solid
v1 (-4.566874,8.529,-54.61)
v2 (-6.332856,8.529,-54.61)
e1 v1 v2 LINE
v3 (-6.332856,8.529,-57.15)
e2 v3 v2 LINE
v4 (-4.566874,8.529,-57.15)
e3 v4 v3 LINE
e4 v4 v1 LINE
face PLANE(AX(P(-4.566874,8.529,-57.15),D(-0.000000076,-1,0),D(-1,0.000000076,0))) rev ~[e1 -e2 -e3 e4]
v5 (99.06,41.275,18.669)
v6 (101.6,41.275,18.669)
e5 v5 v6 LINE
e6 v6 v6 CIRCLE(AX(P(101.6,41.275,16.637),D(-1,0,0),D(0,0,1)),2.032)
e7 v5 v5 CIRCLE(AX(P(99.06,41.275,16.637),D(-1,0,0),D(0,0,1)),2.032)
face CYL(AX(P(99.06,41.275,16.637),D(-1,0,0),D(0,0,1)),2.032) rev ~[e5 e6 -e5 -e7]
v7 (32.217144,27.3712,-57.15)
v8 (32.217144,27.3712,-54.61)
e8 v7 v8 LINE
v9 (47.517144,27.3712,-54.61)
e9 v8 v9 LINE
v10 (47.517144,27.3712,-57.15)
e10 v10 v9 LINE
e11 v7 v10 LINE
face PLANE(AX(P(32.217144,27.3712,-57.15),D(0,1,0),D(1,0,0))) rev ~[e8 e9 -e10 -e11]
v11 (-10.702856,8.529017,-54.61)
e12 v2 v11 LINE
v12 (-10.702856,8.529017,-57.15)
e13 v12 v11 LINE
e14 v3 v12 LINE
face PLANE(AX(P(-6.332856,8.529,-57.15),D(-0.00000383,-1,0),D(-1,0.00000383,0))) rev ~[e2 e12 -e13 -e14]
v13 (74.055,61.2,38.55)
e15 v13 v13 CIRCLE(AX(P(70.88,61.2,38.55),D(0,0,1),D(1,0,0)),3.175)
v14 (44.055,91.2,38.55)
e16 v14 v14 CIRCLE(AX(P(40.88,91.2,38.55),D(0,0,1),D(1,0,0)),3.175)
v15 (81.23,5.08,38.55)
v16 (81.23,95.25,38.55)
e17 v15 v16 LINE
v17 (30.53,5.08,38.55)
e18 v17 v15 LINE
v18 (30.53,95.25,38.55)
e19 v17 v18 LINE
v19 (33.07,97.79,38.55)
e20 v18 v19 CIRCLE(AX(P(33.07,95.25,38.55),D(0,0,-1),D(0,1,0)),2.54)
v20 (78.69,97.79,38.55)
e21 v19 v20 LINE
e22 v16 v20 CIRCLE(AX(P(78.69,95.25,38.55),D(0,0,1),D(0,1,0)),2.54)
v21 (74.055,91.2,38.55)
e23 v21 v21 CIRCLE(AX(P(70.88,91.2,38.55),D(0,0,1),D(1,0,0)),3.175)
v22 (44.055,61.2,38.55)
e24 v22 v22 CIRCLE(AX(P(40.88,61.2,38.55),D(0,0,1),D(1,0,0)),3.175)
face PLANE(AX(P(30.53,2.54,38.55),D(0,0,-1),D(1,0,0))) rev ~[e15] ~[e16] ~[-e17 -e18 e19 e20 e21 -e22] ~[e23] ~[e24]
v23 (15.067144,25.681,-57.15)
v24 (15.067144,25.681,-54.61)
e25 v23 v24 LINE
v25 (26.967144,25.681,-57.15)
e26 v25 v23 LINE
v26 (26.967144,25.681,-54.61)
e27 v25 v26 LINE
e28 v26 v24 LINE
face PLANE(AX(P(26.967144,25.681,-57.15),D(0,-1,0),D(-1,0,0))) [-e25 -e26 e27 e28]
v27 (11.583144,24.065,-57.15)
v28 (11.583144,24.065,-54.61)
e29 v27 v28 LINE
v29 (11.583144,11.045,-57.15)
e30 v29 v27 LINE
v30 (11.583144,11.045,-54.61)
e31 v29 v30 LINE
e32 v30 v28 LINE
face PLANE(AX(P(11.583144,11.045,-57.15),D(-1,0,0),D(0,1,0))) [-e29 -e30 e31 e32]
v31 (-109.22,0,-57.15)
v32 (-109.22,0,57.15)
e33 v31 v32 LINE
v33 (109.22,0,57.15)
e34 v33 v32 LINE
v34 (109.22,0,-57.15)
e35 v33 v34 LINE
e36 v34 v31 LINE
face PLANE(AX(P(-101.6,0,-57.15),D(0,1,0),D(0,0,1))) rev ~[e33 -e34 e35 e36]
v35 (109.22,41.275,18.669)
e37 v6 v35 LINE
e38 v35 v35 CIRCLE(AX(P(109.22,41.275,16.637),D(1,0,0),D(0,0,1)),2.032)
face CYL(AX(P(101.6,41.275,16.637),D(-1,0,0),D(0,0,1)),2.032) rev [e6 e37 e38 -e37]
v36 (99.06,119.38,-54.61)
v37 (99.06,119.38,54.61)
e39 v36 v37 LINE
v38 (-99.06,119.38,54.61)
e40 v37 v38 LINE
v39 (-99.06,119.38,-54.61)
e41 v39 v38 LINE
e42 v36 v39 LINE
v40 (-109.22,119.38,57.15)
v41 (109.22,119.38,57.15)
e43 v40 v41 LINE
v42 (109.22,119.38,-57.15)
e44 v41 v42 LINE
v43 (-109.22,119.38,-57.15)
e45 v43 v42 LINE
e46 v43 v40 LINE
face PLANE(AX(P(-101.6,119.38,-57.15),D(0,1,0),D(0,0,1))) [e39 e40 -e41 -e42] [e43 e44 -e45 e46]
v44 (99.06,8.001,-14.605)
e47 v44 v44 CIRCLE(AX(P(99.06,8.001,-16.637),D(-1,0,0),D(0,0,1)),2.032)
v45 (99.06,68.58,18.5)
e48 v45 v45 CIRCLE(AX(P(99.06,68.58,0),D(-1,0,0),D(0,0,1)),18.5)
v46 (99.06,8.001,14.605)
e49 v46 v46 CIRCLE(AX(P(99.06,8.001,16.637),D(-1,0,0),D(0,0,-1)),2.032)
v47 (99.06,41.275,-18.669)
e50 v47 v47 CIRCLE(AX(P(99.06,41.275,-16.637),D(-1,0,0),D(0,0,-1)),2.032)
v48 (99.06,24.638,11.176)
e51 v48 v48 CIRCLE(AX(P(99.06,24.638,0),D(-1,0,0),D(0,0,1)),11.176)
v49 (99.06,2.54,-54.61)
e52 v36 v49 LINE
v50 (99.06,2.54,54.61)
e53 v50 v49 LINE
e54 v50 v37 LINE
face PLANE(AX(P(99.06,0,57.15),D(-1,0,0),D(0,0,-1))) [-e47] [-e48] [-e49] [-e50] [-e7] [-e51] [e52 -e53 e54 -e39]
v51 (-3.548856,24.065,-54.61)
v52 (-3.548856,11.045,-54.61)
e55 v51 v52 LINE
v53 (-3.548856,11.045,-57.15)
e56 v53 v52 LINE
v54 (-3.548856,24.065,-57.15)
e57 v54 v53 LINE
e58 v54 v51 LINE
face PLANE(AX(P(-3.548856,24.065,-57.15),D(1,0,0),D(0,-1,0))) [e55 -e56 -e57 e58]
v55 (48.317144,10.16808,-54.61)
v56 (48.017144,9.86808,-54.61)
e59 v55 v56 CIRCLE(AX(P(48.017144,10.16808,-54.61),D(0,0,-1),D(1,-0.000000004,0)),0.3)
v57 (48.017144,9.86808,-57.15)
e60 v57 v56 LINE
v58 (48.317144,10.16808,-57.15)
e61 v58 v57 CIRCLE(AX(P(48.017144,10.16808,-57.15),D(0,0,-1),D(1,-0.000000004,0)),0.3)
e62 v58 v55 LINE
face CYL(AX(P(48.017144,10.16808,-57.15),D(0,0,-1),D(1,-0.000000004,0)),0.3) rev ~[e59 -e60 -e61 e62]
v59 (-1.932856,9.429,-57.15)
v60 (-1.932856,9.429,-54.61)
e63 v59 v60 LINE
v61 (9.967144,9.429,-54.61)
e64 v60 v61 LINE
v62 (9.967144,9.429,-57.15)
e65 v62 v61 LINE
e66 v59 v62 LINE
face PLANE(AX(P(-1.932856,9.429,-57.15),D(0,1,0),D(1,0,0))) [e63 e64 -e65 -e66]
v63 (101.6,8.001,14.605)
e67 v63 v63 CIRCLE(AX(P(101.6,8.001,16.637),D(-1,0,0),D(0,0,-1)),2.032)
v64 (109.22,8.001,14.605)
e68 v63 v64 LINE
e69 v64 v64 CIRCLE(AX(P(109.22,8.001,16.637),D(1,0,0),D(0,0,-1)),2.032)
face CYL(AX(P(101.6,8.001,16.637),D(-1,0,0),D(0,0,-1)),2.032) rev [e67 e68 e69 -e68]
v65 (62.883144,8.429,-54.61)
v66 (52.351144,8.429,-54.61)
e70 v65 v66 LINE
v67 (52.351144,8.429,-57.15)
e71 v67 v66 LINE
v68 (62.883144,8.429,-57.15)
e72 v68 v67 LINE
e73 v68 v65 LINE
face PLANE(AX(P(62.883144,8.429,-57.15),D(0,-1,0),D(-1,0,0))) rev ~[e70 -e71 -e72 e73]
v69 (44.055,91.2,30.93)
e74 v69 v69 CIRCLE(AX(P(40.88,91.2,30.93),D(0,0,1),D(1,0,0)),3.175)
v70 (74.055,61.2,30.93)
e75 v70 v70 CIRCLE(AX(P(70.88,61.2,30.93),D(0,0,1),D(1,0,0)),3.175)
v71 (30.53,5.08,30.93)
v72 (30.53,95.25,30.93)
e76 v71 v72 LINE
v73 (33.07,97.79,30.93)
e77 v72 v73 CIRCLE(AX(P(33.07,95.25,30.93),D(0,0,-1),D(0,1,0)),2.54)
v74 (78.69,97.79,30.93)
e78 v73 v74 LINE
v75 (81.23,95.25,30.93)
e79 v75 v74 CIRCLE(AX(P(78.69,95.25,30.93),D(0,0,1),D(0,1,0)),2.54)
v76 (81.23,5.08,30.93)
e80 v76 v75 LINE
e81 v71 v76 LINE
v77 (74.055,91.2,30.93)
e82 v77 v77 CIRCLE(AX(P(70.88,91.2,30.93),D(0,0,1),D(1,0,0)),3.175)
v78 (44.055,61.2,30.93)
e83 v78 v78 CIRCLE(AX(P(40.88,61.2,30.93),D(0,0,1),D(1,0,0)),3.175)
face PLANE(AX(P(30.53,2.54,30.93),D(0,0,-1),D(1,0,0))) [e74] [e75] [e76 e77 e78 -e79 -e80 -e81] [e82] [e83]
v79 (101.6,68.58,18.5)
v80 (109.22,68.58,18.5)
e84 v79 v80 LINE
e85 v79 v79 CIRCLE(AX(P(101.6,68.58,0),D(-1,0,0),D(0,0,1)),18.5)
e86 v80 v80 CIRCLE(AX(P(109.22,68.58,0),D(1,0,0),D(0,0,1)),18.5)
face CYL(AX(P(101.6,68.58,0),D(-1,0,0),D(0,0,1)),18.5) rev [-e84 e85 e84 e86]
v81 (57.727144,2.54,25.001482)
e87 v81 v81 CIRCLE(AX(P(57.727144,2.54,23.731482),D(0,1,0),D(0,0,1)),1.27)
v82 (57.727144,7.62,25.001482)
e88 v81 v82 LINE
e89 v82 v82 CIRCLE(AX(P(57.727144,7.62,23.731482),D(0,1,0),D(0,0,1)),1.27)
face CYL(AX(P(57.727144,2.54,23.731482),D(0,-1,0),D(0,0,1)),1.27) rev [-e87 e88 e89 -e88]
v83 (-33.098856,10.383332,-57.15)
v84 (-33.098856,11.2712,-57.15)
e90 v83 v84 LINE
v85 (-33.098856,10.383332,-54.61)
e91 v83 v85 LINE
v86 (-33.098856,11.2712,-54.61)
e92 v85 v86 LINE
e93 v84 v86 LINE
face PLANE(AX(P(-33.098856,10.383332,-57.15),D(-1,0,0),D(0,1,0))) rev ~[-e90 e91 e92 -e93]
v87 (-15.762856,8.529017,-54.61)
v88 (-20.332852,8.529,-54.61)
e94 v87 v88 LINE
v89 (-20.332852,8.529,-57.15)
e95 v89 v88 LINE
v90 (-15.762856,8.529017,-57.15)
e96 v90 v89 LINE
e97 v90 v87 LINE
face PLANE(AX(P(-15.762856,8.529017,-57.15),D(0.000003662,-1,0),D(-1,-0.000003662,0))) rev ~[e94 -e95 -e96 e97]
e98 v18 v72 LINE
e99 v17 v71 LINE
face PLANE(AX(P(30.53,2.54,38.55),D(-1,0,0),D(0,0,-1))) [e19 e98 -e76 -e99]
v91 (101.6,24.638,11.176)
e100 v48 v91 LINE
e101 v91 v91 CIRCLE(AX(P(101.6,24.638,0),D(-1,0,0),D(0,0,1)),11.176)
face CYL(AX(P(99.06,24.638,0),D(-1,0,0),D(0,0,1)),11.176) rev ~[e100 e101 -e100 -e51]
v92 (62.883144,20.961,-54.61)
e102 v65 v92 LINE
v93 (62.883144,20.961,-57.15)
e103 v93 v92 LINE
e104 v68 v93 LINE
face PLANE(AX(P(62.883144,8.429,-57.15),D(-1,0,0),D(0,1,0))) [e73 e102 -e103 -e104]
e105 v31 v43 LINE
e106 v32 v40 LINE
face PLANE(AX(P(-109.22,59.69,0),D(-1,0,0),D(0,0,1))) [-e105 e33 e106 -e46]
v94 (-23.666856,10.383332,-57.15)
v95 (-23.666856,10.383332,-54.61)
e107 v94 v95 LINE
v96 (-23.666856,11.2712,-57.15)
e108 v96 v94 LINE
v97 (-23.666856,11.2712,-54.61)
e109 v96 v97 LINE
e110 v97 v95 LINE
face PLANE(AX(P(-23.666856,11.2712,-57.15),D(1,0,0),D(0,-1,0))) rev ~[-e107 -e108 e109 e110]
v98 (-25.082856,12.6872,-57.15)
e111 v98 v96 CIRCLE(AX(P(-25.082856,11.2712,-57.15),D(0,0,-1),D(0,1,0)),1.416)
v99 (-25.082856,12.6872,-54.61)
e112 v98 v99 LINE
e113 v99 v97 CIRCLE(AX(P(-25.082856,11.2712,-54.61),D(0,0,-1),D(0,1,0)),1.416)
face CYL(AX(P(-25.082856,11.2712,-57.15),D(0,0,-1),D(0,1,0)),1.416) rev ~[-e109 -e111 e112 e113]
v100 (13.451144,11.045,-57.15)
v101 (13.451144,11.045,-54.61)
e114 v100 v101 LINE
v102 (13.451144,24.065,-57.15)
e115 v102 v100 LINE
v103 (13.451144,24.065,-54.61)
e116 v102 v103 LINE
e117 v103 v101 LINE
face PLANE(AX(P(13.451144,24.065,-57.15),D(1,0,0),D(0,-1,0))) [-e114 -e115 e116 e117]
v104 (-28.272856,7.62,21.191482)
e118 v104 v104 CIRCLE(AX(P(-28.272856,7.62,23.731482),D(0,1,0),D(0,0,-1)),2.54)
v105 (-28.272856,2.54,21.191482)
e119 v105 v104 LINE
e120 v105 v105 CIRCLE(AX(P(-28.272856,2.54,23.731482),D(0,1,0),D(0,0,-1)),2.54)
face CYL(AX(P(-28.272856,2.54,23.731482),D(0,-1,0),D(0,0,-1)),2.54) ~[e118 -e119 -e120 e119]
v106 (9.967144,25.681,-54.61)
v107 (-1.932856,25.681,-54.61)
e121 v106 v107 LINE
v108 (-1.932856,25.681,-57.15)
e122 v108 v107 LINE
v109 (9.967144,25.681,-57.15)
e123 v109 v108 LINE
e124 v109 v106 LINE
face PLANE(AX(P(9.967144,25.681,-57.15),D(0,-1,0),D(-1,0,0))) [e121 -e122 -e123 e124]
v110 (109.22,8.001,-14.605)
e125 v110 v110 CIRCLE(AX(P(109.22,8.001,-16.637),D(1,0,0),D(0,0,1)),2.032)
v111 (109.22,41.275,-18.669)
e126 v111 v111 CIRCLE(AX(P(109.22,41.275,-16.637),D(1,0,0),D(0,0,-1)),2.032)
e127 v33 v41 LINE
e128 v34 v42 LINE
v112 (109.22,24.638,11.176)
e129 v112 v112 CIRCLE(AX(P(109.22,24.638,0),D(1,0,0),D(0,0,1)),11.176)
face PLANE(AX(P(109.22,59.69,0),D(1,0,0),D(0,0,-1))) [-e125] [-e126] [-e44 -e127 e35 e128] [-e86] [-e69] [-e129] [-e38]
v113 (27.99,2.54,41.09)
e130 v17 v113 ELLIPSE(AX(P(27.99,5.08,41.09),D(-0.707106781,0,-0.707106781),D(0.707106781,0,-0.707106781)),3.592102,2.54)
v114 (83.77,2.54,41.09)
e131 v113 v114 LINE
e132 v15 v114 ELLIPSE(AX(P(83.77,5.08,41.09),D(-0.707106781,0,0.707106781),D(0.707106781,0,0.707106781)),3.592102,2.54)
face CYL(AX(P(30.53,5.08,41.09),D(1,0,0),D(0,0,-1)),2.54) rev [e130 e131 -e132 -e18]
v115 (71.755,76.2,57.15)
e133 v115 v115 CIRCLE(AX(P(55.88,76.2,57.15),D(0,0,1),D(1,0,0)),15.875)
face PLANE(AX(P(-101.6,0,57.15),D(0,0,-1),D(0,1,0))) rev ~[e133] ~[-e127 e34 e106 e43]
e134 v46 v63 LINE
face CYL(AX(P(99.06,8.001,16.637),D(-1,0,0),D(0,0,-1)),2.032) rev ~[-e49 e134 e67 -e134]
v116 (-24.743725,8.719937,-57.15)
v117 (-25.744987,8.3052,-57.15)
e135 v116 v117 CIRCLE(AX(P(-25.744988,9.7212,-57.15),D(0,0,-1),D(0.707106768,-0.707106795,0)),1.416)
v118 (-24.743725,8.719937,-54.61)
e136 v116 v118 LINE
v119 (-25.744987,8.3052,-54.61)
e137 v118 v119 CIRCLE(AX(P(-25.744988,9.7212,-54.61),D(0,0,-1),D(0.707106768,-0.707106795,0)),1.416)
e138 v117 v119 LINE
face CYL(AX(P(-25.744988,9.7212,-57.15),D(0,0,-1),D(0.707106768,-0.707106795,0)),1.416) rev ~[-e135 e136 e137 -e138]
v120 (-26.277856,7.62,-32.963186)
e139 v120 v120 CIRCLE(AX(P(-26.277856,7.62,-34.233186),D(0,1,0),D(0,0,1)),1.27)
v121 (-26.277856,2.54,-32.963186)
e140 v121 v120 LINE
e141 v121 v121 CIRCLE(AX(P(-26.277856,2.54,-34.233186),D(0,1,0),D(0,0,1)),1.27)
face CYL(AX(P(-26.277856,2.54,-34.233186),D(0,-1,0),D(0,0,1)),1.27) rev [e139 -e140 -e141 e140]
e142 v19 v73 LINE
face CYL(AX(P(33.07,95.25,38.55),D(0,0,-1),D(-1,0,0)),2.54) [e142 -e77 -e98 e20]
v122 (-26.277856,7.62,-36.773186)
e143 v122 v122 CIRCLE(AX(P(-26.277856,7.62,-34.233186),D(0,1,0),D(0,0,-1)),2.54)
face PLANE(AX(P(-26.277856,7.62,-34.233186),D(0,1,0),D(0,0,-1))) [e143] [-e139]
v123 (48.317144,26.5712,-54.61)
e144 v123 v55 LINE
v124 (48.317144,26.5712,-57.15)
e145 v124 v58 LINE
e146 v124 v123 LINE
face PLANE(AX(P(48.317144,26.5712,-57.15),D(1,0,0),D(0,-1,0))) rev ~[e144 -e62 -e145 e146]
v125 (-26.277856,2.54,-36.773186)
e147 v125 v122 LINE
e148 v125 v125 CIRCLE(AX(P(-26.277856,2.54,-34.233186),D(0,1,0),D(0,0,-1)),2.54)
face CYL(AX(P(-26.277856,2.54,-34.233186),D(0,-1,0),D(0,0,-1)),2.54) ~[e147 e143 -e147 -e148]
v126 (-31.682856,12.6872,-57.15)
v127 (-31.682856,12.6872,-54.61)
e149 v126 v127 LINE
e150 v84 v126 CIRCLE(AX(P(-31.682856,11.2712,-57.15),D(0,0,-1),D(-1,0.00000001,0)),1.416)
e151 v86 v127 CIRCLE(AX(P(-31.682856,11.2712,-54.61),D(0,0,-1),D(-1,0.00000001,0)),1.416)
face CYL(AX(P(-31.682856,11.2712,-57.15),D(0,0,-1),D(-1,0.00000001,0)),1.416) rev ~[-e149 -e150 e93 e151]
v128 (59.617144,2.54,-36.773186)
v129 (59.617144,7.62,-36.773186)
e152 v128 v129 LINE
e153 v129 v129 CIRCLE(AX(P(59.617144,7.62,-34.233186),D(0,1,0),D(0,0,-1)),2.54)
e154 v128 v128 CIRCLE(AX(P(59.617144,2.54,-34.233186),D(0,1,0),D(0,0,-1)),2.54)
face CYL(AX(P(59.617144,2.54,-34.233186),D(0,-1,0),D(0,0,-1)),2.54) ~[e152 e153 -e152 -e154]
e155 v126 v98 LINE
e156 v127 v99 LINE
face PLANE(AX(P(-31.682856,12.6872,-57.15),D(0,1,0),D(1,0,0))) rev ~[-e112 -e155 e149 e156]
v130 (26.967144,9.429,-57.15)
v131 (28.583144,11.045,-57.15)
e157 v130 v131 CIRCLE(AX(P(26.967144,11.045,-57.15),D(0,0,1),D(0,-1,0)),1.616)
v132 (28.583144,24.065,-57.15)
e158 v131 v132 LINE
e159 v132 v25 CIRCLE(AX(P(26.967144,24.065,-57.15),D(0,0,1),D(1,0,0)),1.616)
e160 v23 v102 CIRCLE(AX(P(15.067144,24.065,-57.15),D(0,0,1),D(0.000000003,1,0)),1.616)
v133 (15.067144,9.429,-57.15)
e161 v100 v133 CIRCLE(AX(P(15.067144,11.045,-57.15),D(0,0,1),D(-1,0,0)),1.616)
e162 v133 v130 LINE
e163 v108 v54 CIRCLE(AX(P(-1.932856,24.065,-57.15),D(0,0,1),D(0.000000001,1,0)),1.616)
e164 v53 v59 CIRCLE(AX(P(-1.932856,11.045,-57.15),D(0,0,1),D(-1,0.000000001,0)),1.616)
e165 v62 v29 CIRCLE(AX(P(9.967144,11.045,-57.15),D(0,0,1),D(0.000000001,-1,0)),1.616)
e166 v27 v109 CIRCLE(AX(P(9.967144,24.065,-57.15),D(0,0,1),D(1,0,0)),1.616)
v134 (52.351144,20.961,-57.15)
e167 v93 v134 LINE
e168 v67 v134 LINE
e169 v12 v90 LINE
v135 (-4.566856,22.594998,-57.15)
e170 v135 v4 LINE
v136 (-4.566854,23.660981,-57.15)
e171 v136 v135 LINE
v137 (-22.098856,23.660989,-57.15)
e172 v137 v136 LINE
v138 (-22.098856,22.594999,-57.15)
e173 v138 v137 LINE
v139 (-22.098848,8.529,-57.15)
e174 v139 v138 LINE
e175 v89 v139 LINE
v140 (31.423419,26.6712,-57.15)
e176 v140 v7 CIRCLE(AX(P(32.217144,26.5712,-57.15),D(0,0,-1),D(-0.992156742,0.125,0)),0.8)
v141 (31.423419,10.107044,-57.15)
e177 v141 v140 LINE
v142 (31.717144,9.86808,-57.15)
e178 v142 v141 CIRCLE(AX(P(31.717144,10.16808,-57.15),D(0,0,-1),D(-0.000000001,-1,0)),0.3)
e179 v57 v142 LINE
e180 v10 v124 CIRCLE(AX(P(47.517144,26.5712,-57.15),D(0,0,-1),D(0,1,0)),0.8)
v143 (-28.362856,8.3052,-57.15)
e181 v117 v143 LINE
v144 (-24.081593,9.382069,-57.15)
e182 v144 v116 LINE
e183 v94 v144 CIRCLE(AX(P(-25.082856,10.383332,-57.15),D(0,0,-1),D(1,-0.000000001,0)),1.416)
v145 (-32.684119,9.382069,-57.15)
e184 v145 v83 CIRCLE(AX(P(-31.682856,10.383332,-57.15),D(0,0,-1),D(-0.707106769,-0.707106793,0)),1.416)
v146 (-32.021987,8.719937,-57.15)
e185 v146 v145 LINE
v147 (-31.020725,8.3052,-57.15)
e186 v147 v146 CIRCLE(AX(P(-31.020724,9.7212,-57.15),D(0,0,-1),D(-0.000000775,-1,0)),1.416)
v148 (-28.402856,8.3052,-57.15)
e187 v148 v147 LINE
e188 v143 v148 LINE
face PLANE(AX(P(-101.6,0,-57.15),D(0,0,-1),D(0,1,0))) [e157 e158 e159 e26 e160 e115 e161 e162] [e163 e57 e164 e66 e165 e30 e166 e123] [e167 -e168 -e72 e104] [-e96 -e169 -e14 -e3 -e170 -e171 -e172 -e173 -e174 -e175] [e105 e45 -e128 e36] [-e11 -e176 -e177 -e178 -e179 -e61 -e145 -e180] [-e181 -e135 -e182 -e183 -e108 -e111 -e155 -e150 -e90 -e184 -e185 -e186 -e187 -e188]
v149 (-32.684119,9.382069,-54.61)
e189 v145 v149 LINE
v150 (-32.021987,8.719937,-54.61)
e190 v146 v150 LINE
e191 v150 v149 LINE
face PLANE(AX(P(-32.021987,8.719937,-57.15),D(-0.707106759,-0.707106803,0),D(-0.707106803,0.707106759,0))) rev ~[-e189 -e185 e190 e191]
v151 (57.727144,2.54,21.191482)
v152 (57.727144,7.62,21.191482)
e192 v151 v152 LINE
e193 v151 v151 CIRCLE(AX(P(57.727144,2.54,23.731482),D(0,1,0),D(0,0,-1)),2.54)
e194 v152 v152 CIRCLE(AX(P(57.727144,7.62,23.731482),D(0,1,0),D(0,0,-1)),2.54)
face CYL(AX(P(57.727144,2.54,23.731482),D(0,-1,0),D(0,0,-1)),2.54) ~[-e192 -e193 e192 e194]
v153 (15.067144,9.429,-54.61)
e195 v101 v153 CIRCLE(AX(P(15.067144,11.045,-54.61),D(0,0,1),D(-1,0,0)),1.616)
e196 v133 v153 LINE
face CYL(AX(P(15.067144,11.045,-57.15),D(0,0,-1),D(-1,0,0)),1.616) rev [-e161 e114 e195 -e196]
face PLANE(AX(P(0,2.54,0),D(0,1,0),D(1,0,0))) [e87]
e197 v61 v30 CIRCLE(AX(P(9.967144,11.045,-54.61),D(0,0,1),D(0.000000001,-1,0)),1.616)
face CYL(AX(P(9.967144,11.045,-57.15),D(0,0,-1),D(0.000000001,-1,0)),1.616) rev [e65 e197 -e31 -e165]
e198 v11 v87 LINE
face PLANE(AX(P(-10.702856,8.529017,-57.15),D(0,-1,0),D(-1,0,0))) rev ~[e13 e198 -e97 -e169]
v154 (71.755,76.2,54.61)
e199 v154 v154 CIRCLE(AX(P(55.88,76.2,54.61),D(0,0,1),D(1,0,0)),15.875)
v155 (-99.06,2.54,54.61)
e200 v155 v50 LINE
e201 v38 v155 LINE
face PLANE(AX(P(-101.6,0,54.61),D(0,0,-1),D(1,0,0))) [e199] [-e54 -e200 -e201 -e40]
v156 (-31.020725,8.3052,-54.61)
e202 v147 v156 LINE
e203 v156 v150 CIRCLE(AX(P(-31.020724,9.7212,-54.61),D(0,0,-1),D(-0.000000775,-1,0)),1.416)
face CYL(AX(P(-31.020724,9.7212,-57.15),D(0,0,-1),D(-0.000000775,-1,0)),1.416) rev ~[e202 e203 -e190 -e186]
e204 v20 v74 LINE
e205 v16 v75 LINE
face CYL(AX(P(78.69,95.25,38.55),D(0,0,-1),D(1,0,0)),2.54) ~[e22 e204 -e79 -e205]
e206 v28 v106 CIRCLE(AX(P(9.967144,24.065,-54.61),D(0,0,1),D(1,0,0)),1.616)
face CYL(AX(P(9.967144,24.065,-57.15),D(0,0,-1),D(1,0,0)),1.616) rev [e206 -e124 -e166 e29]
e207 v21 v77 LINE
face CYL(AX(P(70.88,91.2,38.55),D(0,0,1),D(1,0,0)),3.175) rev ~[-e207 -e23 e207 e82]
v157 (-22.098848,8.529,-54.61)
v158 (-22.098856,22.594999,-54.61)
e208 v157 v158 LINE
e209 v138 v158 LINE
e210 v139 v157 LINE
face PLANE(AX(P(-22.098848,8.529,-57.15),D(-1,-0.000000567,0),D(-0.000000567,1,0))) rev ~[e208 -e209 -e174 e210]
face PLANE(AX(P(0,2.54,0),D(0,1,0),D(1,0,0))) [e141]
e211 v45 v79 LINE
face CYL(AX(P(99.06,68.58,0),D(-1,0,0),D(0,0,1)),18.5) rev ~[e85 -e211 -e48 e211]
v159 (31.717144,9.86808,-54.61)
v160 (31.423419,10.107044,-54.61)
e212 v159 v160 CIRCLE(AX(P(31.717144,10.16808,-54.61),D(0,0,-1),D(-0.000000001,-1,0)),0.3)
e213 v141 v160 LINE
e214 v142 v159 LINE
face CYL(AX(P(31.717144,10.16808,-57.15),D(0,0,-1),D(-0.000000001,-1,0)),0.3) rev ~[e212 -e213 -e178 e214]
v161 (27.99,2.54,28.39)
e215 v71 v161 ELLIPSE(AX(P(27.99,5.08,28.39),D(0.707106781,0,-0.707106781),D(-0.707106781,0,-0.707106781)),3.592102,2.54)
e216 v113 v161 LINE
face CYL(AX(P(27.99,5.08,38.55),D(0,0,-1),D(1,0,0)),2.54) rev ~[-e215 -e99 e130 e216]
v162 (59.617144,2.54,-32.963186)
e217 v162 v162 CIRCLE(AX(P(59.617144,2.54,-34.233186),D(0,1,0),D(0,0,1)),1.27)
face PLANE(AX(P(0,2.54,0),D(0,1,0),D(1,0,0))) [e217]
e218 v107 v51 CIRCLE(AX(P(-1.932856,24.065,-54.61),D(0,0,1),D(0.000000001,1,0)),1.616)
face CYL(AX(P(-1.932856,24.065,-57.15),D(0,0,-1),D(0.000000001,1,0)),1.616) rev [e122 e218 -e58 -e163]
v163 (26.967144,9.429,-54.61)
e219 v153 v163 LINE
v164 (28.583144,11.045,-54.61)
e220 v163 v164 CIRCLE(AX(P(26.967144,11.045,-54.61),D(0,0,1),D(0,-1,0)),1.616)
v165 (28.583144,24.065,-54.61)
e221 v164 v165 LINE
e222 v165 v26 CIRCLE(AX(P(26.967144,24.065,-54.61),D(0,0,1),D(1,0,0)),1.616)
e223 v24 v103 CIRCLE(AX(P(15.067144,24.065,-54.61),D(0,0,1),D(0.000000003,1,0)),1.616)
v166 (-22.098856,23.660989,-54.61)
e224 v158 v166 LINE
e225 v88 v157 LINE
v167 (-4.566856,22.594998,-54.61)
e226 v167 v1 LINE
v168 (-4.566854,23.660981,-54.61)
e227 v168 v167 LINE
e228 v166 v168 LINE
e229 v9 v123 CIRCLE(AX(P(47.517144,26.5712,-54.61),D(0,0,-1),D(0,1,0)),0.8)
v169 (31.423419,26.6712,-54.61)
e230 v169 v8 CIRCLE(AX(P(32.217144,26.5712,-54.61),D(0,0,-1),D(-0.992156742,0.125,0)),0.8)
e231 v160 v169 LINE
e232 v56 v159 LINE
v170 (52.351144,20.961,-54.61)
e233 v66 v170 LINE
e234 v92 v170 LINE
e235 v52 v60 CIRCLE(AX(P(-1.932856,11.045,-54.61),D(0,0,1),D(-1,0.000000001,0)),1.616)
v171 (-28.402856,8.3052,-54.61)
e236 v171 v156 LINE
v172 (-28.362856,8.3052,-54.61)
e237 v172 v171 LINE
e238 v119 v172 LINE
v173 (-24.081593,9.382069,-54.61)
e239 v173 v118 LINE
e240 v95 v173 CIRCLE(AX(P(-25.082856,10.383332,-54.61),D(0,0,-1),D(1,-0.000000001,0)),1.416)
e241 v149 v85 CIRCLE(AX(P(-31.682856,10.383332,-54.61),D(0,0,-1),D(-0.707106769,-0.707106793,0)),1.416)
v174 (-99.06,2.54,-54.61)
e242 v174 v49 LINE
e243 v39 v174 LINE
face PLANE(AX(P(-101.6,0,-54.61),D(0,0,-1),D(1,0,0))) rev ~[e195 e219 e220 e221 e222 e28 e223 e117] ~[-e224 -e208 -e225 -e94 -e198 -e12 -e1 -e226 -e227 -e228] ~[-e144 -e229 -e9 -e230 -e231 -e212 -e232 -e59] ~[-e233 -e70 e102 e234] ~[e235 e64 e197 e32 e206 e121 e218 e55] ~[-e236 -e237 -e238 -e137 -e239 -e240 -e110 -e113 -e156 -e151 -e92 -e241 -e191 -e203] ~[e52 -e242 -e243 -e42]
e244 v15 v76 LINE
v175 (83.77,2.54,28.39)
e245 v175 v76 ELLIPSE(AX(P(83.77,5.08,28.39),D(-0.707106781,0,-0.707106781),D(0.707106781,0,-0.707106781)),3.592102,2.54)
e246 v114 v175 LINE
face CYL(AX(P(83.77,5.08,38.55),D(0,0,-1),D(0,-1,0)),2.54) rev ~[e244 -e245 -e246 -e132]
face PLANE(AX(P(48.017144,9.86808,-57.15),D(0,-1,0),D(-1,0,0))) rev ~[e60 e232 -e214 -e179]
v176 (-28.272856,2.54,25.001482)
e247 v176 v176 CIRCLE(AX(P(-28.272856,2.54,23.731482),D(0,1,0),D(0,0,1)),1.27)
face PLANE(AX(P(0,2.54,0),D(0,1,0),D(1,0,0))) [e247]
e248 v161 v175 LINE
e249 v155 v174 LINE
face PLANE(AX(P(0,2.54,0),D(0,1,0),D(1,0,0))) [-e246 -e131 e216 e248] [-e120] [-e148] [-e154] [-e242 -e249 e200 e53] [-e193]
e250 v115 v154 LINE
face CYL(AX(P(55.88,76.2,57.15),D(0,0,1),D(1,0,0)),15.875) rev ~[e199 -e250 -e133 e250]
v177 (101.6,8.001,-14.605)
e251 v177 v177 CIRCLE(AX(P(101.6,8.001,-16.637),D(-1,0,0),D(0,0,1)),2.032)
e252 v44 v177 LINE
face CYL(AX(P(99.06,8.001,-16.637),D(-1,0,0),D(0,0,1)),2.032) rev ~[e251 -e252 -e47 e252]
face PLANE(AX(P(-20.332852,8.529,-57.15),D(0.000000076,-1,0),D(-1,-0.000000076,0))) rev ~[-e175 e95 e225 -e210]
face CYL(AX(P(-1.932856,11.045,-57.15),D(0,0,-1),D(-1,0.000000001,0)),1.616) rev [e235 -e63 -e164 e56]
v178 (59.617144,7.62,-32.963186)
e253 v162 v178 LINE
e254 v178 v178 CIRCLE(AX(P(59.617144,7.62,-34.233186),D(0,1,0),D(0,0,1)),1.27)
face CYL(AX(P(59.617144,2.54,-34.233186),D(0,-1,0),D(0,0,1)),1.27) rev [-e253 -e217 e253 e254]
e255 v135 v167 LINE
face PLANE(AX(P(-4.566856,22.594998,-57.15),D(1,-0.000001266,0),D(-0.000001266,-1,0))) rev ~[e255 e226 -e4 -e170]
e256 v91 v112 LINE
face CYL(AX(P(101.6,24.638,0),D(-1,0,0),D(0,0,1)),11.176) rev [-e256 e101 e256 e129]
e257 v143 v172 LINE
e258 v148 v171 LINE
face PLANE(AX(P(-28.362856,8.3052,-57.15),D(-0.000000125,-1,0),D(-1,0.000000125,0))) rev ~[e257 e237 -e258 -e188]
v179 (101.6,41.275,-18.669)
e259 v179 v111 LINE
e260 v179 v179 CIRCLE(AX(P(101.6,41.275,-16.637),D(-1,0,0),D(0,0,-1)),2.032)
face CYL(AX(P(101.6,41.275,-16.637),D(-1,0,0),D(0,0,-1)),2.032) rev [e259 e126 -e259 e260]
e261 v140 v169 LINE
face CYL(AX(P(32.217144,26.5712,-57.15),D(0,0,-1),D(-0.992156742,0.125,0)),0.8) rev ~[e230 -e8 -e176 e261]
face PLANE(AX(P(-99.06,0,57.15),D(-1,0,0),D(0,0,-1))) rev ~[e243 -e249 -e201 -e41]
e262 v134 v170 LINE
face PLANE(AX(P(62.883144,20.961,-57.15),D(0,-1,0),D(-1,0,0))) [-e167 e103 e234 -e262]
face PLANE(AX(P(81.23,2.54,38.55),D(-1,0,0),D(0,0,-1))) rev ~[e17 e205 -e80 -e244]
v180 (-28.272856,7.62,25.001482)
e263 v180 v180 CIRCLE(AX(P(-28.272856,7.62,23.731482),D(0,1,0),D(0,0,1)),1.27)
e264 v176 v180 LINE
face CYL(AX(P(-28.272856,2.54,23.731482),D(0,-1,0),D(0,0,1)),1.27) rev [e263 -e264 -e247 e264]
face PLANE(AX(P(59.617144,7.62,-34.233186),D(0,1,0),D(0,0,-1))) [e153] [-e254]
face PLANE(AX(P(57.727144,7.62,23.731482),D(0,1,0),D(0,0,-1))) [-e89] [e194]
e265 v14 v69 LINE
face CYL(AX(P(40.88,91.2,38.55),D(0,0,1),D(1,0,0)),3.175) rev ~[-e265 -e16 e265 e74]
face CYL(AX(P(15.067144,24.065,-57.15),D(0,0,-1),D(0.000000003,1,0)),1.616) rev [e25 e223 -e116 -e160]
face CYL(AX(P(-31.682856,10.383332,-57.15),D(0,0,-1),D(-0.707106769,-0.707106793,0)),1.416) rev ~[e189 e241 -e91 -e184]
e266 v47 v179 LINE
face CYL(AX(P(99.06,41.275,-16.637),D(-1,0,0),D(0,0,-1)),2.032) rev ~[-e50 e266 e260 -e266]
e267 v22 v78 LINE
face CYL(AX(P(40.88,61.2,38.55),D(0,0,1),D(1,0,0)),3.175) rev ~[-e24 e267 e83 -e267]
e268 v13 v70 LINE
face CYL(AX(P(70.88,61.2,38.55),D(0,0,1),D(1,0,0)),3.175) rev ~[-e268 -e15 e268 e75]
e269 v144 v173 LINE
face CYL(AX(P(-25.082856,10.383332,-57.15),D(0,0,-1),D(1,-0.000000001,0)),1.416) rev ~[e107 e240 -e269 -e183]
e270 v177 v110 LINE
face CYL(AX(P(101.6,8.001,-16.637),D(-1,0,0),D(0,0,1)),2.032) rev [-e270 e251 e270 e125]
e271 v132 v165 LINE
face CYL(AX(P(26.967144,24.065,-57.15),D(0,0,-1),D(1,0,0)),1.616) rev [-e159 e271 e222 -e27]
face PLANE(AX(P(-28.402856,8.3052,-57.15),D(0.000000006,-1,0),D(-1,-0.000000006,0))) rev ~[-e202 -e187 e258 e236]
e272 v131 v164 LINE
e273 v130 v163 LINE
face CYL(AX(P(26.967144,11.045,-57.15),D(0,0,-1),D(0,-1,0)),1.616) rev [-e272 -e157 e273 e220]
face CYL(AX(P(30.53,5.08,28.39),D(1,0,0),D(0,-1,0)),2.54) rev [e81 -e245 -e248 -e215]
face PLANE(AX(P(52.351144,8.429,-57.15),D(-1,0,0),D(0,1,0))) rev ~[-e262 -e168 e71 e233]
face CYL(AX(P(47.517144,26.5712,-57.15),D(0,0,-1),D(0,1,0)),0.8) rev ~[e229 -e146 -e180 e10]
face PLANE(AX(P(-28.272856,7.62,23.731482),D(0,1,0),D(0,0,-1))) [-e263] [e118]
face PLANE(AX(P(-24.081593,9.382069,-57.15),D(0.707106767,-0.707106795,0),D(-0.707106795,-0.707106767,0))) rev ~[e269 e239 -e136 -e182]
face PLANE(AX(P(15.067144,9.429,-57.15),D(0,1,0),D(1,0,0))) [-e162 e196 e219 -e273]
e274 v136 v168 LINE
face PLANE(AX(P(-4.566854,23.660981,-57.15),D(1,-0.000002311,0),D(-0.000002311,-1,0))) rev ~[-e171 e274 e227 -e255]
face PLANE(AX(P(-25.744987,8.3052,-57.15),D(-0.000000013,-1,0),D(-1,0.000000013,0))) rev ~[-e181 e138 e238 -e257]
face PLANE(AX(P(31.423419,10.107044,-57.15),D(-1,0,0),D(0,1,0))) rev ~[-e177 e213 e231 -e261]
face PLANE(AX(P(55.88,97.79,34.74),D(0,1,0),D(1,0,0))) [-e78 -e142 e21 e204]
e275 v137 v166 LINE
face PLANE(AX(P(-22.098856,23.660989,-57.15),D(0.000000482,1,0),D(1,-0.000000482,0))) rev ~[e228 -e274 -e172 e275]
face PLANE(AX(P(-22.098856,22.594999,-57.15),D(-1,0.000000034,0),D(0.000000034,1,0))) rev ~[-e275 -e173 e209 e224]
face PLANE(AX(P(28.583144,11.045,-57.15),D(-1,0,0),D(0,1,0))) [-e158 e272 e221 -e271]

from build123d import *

# Parameters (mm, degrees)
SKETCH1_W           = 203.2
SKETCH1_H           = 114.3
BOSS_EXTRUDE1_DEPTH = 119.38
SHELL1_T            = -2.54
SKETCH2_R           = 18.5
SKETCH2_R_2         = 2.032
SKETCH2_R_3         = 11.176
CUT_EXTRUDE1_DEPTH  = 2.54
SKETCH3_W           = 114.3
SKETCH3_H           = 119.38
SKETCH3_R           = 18.5
SKETCH3_R_2         = 2.032
SKETCH3_R_3         = 11.176
BOSS_EXTRUDE3_DEPTH = 7.62
SKETCH4_R           = 15.875
CUT_EXTRUDE2_DEPTH  = 2.54
SKETCH5_W           = 50.7
SKETCH5_H           = 7.62
BOSS_EXTRUDE4_DEPTH = 95.25
CUT_EXTRUDE3_REACH  = 189.987
SKETCH6_R           = 3.175
FILLET1_R           = 2.54
FILLET2_R           = 2.54
SKETCH7_W           = 114.3
SKETCH7_H           = 119.38
BOSS_EXTRUDE5_DEPTH = 7.62
SKETCH8_R           = 2.54
SKETCH8_R_2         = 1.27
BOSS_EXTRUDE6_DEPTH = 5.08
SKETCH9_W           = 10.532
SKETCH9_H           = 12.532
CUT_EXTRUDE5_DEPTH  = 2.54


with BuildPart() as part:
    # Sketch1 → Boss-Extrude1 (new body)
    with BuildSketch(Plane(origin=(0, 0, 0), x_dir=(1, 0, 0), z_dir=(0, 1, 0))):
        Rectangle(SKETCH1_W, SKETCH1_H)
    extrude(amount=BOSS_EXTRUDE1_DEPTH)

    # Shell1
    shell1_openings = [part.faces().sort_by_distance(p)[0] for p in [
        (0, 119.38, 0),
    ]]
    offset(amount=SHELL1_T, openings=shell1_openings, kind=Kind.INTERSECTION)

    # Sketch2 → Cut-Extrude1 (cut)
    with BuildSketch(Plane.ZY.offset(-99.06)):
        with Locations((0, 68.58)):
            Circle(SKETCH2_R)
        with Locations((16.637, 41.275)):
            Circle(SKETCH2_R_2)
        with Locations(Location((16.637, 8.001, 0), (0, 0, 180))):
            Circle(SKETCH2_R_2)
        with Locations((-16.637, 8.001)):
            Circle(SKETCH2_R_2)
        with Locations(Location((-16.637, 41.275, 0), (0, 0, 180))):
            Circle(SKETCH2_R_2)
        with Locations((0, 24.638)):
            Circle(SKETCH2_R_3)
    extrude(amount=-CUT_EXTRUDE1_DEPTH, mode=Mode.SUBTRACT)

    # Sketch3 → Boss-Extrude3 (add)
    with BuildSketch(Plane(origin=(101.6, 0, 0), x_dir=(0, 0, -1), z_dir=(1, 0, 0))):
        with Locations((0, 59.69)):
            Rectangle(SKETCH3_W, SKETCH3_H)
        with Locations(Location((0, 68.58, 0), (0, 0, 180))):
            Circle(SKETCH3_R, mode=Mode.SUBTRACT)
        with Locations((-16.637, 8.001)):
            Circle(SKETCH3_R_2, mode=Mode.SUBTRACT)
        with Locations(Location((16.637, 8.001, 0), (0, 0, 180))):
            Circle(SKETCH3_R_2, mode=Mode.SUBTRACT)
        with Locations((16.637, 41.275)):
            Circle(SKETCH3_R_2, mode=Mode.SUBTRACT)
        with Locations(Location((-16.637, 41.275, 0), (0, 0, 180))):
            Circle(SKETCH3_R_2, mode=Mode.SUBTRACT)
        with Locations(Location((0, 24.638, 0), (0, 0, 180))):
            Circle(SKETCH3_R_3, mode=Mode.SUBTRACT)
    extrude(amount=BOSS_EXTRUDE3_DEPTH)

    # Sketch4 → Cut-Extrude2 (cut)
    with BuildSketch(Plane.XY.offset(57.15)):
        with Locations((55.88, 76.2)):
            Circle(SKETCH4_R)
    extrude(amount=-CUT_EXTRUDE2_DEPTH, mode=Mode.SUBTRACT)

    # Sketch5 → Boss-Extrude4 (add)
    with BuildSketch(Plane(origin=(0, 2.54, 0), x_dir=(1, 0, 0), z_dir=(0, 1, 0))):
        with Locations((55.88, -34.74)):
            Rectangle(SKETCH5_W, SKETCH5_H)
    extrude(amount=BOSS_EXTRUDE4_DEPTH)

    # Sketch6 → Cut-Extrude3 (cut, up to next)
    with BuildSketch(Plane.XY.offset(38.55), mode=Mode.PRIVATE) as cut_extrude3_sk1:
        with Locations((40.88, 91.2)):
            Circle(SKETCH6_R)
    cut_extrude3_tool1 = extrude(cut_extrude3_sk1.sketch, amount=-CUT_EXTRUDE3_REACH, mode=Mode.PRIVATE) & part.part
    # Sketch6 → Cut-Extrude3 (cut, up to next)
    with BuildSketch(Plane.XY.offset(38.55), mode=Mode.PRIVATE) as cut_extrude3_sk2:
        with Locations((70.88, 61.2)):
            Circle(SKETCH6_R)
    cut_extrude3_tool2 = extrude(cut_extrude3_sk2.sketch, amount=-CUT_EXTRUDE3_REACH, mode=Mode.PRIVATE) & part.part
    # Sketch6 → Cut-Extrude3 (cut, up to next)
    with BuildSketch(Plane.XY.offset(38.55), mode=Mode.PRIVATE) as cut_extrude3_sk3:
        with Locations((40.88, 61.2)):
            Circle(SKETCH6_R)
    cut_extrude3_tool3 = extrude(cut_extrude3_sk3.sketch, amount=-CUT_EXTRUDE3_REACH, mode=Mode.PRIVATE) & part.part
    # Sketch6 → Cut-Extrude3 (cut, up to next)
    with BuildSketch(Plane.XY.offset(38.55), mode=Mode.PRIVATE) as cut_extrude3_sk4:
        with Locations((70.88, 91.2)):
            Circle(SKETCH6_R)
    cut_extrude3_tool4 = extrude(cut_extrude3_sk4.sketch, amount=-CUT_EXTRUDE3_REACH, mode=Mode.PRIVATE) & part.part
    add(cut_extrude3_tool1.solids().sort_by_distance((40.88, 91.2, 38.55))[0], mode=Mode.SUBTRACT)
    add(cut_extrude3_tool2.solids().sort_by_distance((70.88, 61.2, 38.55))[0], mode=Mode.SUBTRACT)
    add(cut_extrude3_tool3.solids().sort_by_distance((40.88, 61.2, 38.55))[0], mode=Mode.SUBTRACT)
    add(cut_extrude3_tool4.solids().sort_by_distance((70.88, 91.2, 38.55))[0], mode=Mode.SUBTRACT)

    # Fillet1
    fillet1_edges = [part.edges().sort_by_distance(p)[0] for p in [
        (30.53, 97.79, 34.74),
        (81.23, 97.79, 34.74),
    ]]
    fillet(fillet1_edges, radius=FILLET1_R)

    # Fillet2
    fillet2_edges = [part.edges().sort_by_distance(p)[0] for p in [
        (30.53, 2.54, 34.74),
        (55.88, 2.54, 38.55),
        (81.23, 2.54, 34.74),
        (55.88, 2.54, 30.93),
    ]]
    fillet(fillet2_edges, radius=FILLET2_R)

    # Sketch7 → Boss-Extrude5 (add)
    with BuildSketch(Plane.ZY.offset(101.6)):
        with Locations((0, 59.69)):
            Rectangle(SKETCH7_W, SKETCH7_H)
    extrude(amount=BOSS_EXTRUDE5_DEPTH)

    # Sketch8 → Boss-Extrude6 (add)
    with BuildSketch(Plane(origin=(0, 2.54, 0), x_dir=(1, 0, 0), z_dir=(0, 1, 0))):
        with Locations(Location((57.72714395, -23.731482064, 0), (0, 0, 90))):
            Circle(SKETCH8_R)
        with Locations(Location((57.72714395, -23.731482064, 0), (0, 0, 270))):
            Circle(SKETCH8_R_2, mode=Mode.SUBTRACT)
        with Locations(Location((59.61714395, 34.233185903, 0), (0, 0, 90))):
            Circle(SKETCH8_R)
        with Locations(Location((59.61714395, 34.233185903, 0), (0, 0, 270))):
            Circle(SKETCH8_R_2, mode=Mode.SUBTRACT)
        with Locations(Location((-26.27785605, 34.233185903, 0), (0, 0, 90))):
            Circle(SKETCH8_R)
        with Locations(Location((-26.27785605, 34.233185903, 0), (0, 0, 270))):
            Circle(SKETCH8_R_2, mode=Mode.SUBTRACT)
        with Locations(Location((-28.27285605, -23.731482064, 0), (0, 0, 90))):
            Circle(SKETCH8_R)
        with Locations(Location((-28.27285605, -23.731482064, 0), (0, 0, 270))):
            Circle(SKETCH8_R_2, mode=Mode.SUBTRACT)
    extrude(amount=BOSS_EXTRUDE6_DEPTH)

    # Sketch9 → Cut-Extrude5 (cut)
    with BuildSketch(Plane(origin=(0, 0, -57.15), x_dir=(-1, 0, 0), z_dir=(0, 0, -1))):
        with Locations((-57.61714395, 14.695)):
            Rectangle(SKETCH9_W, SKETCH9_H)
        with BuildLine():
            Line((24.081592809, 9.382068871), (24.743724913, 8.719936793))
            ThreePointArc((24.743724913, 8.719936793), (25.203108007, 8.412986741), (25.744987314, 8.305200015))
            Line((25.744987314, 8.305200015), (28.362856093, 8.30520005))
            Line((28.362856093, 8.30520005), (28.402856063, 8.305200055))
            Line((28.402856063, 8.305200055), (31.020725099, 8.305200038))
            ThreePointArc((31.020725099, 8.305200038), (31.56260424, 8.412986824), (32.021987195, 8.719936816))
            Line((32.021987195, 8.719936816), (32.684119236, 9.382068816))
            ThreePointArc((32.684119236, 9.382068816), (32.991069464, 9.841452284), (33.09885605, 10.383332036))
            Line((33.09885605, 10.383332036), (33.09885605, 11.271200015))
            ThreePointArc((33.09885605, 11.271200015), (32.684119246, 12.272463208), (31.682856049, 12.687199998))
            Line((31.682856049, 12.687199998), (25.08285605, 12.687199999))
            ThreePointArc((25.08285605, 12.687199999), (24.08159283, 12.272463183), (23.66685605, 11.271199947))
            Line((23.66685605, 11.271199947), (23.66685605, 10.383332034))
            ThreePointArc((23.66685605, 10.383332034), (23.774642622, 9.841452319), (24.081592809, 9.382068871))
        make_face()
        Polygon((4.566873979, 8.528999922), (6.332856128, 8.529000057), (10.70285605, 8.529016793), (15.76285605, 8.529016793), (20.33285233, 8.529000057), (22.098848079, 8.528999922), (22.098856052, 22.594999424), (22.098856016, 23.660989296), (4.566853702, 23.660980854), (4.566856166, 22.594997652), align=None)
        with BuildLine():
            Line((-9.967143949, 25.681), (1.932856049, 25.681))
            ThreePointArc((1.932856049, 25.681), (3.07554061, 25.207684557), (3.54885605, 24.064999996))
            Line((3.54885605, 24.064999996), (3.54885605, 11.045))
            ThreePointArc((3.54885605, 11.045), (3.07554061, 9.902315442), (1.932856053, 9.429))
            Line((1.932856053, 9.429), (-9.96714395, 9.429))
            ThreePointArc((-9.96714395, 9.429), (-11.109828508, 9.902315442), (-11.58314395, 11.045000001))
            Line((-11.58314395, 11.045000001), (-11.58314395, 24.065))
            ThreePointArc((-11.58314395, 24.065), (-11.109828508, 25.207684559), (-9.967143949, 25.681))
        make_face()
        with BuildLine():
            Line((-26.967143949, 25.681), (-15.067143954, 25.681))
            ThreePointArc((-15.067143954, 25.681), (-13.924459392, 25.207684559), (-13.45114395, 24.064999998))
            Line((-13.45114395, 24.064999998), (-13.45114395, 11.044999999))
            ThreePointArc((-13.45114395, 11.044999999), (-13.924459391, 9.902315442), (-15.067143949, 9.429))
            Line((-15.067143949, 9.429), (-26.967143951, 9.429))
            ThreePointArc((-26.967143951, 9.429), (-28.109828509, 9.902315442), (-28.58314395, 11.045))
            Line((-28.58314395, 11.045), (-28.58314395, 24.065))
            ThreePointArc((-28.58314395, 24.065), (-28.109828508, 25.207684559), (-26.967143949, 25.681))
        make_face()
        with BuildLine():
            Line((-32.21714395, 27.3712), (-47.51714395, 27.3712))
            ThreePointArc((-47.51714395, 27.3712), (-48.082829375, 27.136885425), (-48.31714395, 26.5712))
            Line((-48.31714395, 26.5712), (-48.31714395, 10.168080492))
            ThreePointArc((-48.31714395, 10.168080492), (-48.229275984, 9.955948458), (-48.01714395, 9.868080492))
            Line((-48.01714395, 9.868080492), (-31.71714395, 9.868080492))
            ThreePointArc((-31.71714395, 9.868080492), (-31.527817248, 9.935367364), (-31.423418556, 10.107044492))
            Line((-31.423418556, 10.107044492), (-31.423418556, 26.6712))
            ThreePointArc((-31.423418556, 26.6712), (-31.687993687, 27.1712), (-32.21714395, 27.3712))
        make_face()
    extrude(amount=-CUT_EXTRUDE5_DEPTH, mode=Mode.SUBTRACT)


solid = part.part
